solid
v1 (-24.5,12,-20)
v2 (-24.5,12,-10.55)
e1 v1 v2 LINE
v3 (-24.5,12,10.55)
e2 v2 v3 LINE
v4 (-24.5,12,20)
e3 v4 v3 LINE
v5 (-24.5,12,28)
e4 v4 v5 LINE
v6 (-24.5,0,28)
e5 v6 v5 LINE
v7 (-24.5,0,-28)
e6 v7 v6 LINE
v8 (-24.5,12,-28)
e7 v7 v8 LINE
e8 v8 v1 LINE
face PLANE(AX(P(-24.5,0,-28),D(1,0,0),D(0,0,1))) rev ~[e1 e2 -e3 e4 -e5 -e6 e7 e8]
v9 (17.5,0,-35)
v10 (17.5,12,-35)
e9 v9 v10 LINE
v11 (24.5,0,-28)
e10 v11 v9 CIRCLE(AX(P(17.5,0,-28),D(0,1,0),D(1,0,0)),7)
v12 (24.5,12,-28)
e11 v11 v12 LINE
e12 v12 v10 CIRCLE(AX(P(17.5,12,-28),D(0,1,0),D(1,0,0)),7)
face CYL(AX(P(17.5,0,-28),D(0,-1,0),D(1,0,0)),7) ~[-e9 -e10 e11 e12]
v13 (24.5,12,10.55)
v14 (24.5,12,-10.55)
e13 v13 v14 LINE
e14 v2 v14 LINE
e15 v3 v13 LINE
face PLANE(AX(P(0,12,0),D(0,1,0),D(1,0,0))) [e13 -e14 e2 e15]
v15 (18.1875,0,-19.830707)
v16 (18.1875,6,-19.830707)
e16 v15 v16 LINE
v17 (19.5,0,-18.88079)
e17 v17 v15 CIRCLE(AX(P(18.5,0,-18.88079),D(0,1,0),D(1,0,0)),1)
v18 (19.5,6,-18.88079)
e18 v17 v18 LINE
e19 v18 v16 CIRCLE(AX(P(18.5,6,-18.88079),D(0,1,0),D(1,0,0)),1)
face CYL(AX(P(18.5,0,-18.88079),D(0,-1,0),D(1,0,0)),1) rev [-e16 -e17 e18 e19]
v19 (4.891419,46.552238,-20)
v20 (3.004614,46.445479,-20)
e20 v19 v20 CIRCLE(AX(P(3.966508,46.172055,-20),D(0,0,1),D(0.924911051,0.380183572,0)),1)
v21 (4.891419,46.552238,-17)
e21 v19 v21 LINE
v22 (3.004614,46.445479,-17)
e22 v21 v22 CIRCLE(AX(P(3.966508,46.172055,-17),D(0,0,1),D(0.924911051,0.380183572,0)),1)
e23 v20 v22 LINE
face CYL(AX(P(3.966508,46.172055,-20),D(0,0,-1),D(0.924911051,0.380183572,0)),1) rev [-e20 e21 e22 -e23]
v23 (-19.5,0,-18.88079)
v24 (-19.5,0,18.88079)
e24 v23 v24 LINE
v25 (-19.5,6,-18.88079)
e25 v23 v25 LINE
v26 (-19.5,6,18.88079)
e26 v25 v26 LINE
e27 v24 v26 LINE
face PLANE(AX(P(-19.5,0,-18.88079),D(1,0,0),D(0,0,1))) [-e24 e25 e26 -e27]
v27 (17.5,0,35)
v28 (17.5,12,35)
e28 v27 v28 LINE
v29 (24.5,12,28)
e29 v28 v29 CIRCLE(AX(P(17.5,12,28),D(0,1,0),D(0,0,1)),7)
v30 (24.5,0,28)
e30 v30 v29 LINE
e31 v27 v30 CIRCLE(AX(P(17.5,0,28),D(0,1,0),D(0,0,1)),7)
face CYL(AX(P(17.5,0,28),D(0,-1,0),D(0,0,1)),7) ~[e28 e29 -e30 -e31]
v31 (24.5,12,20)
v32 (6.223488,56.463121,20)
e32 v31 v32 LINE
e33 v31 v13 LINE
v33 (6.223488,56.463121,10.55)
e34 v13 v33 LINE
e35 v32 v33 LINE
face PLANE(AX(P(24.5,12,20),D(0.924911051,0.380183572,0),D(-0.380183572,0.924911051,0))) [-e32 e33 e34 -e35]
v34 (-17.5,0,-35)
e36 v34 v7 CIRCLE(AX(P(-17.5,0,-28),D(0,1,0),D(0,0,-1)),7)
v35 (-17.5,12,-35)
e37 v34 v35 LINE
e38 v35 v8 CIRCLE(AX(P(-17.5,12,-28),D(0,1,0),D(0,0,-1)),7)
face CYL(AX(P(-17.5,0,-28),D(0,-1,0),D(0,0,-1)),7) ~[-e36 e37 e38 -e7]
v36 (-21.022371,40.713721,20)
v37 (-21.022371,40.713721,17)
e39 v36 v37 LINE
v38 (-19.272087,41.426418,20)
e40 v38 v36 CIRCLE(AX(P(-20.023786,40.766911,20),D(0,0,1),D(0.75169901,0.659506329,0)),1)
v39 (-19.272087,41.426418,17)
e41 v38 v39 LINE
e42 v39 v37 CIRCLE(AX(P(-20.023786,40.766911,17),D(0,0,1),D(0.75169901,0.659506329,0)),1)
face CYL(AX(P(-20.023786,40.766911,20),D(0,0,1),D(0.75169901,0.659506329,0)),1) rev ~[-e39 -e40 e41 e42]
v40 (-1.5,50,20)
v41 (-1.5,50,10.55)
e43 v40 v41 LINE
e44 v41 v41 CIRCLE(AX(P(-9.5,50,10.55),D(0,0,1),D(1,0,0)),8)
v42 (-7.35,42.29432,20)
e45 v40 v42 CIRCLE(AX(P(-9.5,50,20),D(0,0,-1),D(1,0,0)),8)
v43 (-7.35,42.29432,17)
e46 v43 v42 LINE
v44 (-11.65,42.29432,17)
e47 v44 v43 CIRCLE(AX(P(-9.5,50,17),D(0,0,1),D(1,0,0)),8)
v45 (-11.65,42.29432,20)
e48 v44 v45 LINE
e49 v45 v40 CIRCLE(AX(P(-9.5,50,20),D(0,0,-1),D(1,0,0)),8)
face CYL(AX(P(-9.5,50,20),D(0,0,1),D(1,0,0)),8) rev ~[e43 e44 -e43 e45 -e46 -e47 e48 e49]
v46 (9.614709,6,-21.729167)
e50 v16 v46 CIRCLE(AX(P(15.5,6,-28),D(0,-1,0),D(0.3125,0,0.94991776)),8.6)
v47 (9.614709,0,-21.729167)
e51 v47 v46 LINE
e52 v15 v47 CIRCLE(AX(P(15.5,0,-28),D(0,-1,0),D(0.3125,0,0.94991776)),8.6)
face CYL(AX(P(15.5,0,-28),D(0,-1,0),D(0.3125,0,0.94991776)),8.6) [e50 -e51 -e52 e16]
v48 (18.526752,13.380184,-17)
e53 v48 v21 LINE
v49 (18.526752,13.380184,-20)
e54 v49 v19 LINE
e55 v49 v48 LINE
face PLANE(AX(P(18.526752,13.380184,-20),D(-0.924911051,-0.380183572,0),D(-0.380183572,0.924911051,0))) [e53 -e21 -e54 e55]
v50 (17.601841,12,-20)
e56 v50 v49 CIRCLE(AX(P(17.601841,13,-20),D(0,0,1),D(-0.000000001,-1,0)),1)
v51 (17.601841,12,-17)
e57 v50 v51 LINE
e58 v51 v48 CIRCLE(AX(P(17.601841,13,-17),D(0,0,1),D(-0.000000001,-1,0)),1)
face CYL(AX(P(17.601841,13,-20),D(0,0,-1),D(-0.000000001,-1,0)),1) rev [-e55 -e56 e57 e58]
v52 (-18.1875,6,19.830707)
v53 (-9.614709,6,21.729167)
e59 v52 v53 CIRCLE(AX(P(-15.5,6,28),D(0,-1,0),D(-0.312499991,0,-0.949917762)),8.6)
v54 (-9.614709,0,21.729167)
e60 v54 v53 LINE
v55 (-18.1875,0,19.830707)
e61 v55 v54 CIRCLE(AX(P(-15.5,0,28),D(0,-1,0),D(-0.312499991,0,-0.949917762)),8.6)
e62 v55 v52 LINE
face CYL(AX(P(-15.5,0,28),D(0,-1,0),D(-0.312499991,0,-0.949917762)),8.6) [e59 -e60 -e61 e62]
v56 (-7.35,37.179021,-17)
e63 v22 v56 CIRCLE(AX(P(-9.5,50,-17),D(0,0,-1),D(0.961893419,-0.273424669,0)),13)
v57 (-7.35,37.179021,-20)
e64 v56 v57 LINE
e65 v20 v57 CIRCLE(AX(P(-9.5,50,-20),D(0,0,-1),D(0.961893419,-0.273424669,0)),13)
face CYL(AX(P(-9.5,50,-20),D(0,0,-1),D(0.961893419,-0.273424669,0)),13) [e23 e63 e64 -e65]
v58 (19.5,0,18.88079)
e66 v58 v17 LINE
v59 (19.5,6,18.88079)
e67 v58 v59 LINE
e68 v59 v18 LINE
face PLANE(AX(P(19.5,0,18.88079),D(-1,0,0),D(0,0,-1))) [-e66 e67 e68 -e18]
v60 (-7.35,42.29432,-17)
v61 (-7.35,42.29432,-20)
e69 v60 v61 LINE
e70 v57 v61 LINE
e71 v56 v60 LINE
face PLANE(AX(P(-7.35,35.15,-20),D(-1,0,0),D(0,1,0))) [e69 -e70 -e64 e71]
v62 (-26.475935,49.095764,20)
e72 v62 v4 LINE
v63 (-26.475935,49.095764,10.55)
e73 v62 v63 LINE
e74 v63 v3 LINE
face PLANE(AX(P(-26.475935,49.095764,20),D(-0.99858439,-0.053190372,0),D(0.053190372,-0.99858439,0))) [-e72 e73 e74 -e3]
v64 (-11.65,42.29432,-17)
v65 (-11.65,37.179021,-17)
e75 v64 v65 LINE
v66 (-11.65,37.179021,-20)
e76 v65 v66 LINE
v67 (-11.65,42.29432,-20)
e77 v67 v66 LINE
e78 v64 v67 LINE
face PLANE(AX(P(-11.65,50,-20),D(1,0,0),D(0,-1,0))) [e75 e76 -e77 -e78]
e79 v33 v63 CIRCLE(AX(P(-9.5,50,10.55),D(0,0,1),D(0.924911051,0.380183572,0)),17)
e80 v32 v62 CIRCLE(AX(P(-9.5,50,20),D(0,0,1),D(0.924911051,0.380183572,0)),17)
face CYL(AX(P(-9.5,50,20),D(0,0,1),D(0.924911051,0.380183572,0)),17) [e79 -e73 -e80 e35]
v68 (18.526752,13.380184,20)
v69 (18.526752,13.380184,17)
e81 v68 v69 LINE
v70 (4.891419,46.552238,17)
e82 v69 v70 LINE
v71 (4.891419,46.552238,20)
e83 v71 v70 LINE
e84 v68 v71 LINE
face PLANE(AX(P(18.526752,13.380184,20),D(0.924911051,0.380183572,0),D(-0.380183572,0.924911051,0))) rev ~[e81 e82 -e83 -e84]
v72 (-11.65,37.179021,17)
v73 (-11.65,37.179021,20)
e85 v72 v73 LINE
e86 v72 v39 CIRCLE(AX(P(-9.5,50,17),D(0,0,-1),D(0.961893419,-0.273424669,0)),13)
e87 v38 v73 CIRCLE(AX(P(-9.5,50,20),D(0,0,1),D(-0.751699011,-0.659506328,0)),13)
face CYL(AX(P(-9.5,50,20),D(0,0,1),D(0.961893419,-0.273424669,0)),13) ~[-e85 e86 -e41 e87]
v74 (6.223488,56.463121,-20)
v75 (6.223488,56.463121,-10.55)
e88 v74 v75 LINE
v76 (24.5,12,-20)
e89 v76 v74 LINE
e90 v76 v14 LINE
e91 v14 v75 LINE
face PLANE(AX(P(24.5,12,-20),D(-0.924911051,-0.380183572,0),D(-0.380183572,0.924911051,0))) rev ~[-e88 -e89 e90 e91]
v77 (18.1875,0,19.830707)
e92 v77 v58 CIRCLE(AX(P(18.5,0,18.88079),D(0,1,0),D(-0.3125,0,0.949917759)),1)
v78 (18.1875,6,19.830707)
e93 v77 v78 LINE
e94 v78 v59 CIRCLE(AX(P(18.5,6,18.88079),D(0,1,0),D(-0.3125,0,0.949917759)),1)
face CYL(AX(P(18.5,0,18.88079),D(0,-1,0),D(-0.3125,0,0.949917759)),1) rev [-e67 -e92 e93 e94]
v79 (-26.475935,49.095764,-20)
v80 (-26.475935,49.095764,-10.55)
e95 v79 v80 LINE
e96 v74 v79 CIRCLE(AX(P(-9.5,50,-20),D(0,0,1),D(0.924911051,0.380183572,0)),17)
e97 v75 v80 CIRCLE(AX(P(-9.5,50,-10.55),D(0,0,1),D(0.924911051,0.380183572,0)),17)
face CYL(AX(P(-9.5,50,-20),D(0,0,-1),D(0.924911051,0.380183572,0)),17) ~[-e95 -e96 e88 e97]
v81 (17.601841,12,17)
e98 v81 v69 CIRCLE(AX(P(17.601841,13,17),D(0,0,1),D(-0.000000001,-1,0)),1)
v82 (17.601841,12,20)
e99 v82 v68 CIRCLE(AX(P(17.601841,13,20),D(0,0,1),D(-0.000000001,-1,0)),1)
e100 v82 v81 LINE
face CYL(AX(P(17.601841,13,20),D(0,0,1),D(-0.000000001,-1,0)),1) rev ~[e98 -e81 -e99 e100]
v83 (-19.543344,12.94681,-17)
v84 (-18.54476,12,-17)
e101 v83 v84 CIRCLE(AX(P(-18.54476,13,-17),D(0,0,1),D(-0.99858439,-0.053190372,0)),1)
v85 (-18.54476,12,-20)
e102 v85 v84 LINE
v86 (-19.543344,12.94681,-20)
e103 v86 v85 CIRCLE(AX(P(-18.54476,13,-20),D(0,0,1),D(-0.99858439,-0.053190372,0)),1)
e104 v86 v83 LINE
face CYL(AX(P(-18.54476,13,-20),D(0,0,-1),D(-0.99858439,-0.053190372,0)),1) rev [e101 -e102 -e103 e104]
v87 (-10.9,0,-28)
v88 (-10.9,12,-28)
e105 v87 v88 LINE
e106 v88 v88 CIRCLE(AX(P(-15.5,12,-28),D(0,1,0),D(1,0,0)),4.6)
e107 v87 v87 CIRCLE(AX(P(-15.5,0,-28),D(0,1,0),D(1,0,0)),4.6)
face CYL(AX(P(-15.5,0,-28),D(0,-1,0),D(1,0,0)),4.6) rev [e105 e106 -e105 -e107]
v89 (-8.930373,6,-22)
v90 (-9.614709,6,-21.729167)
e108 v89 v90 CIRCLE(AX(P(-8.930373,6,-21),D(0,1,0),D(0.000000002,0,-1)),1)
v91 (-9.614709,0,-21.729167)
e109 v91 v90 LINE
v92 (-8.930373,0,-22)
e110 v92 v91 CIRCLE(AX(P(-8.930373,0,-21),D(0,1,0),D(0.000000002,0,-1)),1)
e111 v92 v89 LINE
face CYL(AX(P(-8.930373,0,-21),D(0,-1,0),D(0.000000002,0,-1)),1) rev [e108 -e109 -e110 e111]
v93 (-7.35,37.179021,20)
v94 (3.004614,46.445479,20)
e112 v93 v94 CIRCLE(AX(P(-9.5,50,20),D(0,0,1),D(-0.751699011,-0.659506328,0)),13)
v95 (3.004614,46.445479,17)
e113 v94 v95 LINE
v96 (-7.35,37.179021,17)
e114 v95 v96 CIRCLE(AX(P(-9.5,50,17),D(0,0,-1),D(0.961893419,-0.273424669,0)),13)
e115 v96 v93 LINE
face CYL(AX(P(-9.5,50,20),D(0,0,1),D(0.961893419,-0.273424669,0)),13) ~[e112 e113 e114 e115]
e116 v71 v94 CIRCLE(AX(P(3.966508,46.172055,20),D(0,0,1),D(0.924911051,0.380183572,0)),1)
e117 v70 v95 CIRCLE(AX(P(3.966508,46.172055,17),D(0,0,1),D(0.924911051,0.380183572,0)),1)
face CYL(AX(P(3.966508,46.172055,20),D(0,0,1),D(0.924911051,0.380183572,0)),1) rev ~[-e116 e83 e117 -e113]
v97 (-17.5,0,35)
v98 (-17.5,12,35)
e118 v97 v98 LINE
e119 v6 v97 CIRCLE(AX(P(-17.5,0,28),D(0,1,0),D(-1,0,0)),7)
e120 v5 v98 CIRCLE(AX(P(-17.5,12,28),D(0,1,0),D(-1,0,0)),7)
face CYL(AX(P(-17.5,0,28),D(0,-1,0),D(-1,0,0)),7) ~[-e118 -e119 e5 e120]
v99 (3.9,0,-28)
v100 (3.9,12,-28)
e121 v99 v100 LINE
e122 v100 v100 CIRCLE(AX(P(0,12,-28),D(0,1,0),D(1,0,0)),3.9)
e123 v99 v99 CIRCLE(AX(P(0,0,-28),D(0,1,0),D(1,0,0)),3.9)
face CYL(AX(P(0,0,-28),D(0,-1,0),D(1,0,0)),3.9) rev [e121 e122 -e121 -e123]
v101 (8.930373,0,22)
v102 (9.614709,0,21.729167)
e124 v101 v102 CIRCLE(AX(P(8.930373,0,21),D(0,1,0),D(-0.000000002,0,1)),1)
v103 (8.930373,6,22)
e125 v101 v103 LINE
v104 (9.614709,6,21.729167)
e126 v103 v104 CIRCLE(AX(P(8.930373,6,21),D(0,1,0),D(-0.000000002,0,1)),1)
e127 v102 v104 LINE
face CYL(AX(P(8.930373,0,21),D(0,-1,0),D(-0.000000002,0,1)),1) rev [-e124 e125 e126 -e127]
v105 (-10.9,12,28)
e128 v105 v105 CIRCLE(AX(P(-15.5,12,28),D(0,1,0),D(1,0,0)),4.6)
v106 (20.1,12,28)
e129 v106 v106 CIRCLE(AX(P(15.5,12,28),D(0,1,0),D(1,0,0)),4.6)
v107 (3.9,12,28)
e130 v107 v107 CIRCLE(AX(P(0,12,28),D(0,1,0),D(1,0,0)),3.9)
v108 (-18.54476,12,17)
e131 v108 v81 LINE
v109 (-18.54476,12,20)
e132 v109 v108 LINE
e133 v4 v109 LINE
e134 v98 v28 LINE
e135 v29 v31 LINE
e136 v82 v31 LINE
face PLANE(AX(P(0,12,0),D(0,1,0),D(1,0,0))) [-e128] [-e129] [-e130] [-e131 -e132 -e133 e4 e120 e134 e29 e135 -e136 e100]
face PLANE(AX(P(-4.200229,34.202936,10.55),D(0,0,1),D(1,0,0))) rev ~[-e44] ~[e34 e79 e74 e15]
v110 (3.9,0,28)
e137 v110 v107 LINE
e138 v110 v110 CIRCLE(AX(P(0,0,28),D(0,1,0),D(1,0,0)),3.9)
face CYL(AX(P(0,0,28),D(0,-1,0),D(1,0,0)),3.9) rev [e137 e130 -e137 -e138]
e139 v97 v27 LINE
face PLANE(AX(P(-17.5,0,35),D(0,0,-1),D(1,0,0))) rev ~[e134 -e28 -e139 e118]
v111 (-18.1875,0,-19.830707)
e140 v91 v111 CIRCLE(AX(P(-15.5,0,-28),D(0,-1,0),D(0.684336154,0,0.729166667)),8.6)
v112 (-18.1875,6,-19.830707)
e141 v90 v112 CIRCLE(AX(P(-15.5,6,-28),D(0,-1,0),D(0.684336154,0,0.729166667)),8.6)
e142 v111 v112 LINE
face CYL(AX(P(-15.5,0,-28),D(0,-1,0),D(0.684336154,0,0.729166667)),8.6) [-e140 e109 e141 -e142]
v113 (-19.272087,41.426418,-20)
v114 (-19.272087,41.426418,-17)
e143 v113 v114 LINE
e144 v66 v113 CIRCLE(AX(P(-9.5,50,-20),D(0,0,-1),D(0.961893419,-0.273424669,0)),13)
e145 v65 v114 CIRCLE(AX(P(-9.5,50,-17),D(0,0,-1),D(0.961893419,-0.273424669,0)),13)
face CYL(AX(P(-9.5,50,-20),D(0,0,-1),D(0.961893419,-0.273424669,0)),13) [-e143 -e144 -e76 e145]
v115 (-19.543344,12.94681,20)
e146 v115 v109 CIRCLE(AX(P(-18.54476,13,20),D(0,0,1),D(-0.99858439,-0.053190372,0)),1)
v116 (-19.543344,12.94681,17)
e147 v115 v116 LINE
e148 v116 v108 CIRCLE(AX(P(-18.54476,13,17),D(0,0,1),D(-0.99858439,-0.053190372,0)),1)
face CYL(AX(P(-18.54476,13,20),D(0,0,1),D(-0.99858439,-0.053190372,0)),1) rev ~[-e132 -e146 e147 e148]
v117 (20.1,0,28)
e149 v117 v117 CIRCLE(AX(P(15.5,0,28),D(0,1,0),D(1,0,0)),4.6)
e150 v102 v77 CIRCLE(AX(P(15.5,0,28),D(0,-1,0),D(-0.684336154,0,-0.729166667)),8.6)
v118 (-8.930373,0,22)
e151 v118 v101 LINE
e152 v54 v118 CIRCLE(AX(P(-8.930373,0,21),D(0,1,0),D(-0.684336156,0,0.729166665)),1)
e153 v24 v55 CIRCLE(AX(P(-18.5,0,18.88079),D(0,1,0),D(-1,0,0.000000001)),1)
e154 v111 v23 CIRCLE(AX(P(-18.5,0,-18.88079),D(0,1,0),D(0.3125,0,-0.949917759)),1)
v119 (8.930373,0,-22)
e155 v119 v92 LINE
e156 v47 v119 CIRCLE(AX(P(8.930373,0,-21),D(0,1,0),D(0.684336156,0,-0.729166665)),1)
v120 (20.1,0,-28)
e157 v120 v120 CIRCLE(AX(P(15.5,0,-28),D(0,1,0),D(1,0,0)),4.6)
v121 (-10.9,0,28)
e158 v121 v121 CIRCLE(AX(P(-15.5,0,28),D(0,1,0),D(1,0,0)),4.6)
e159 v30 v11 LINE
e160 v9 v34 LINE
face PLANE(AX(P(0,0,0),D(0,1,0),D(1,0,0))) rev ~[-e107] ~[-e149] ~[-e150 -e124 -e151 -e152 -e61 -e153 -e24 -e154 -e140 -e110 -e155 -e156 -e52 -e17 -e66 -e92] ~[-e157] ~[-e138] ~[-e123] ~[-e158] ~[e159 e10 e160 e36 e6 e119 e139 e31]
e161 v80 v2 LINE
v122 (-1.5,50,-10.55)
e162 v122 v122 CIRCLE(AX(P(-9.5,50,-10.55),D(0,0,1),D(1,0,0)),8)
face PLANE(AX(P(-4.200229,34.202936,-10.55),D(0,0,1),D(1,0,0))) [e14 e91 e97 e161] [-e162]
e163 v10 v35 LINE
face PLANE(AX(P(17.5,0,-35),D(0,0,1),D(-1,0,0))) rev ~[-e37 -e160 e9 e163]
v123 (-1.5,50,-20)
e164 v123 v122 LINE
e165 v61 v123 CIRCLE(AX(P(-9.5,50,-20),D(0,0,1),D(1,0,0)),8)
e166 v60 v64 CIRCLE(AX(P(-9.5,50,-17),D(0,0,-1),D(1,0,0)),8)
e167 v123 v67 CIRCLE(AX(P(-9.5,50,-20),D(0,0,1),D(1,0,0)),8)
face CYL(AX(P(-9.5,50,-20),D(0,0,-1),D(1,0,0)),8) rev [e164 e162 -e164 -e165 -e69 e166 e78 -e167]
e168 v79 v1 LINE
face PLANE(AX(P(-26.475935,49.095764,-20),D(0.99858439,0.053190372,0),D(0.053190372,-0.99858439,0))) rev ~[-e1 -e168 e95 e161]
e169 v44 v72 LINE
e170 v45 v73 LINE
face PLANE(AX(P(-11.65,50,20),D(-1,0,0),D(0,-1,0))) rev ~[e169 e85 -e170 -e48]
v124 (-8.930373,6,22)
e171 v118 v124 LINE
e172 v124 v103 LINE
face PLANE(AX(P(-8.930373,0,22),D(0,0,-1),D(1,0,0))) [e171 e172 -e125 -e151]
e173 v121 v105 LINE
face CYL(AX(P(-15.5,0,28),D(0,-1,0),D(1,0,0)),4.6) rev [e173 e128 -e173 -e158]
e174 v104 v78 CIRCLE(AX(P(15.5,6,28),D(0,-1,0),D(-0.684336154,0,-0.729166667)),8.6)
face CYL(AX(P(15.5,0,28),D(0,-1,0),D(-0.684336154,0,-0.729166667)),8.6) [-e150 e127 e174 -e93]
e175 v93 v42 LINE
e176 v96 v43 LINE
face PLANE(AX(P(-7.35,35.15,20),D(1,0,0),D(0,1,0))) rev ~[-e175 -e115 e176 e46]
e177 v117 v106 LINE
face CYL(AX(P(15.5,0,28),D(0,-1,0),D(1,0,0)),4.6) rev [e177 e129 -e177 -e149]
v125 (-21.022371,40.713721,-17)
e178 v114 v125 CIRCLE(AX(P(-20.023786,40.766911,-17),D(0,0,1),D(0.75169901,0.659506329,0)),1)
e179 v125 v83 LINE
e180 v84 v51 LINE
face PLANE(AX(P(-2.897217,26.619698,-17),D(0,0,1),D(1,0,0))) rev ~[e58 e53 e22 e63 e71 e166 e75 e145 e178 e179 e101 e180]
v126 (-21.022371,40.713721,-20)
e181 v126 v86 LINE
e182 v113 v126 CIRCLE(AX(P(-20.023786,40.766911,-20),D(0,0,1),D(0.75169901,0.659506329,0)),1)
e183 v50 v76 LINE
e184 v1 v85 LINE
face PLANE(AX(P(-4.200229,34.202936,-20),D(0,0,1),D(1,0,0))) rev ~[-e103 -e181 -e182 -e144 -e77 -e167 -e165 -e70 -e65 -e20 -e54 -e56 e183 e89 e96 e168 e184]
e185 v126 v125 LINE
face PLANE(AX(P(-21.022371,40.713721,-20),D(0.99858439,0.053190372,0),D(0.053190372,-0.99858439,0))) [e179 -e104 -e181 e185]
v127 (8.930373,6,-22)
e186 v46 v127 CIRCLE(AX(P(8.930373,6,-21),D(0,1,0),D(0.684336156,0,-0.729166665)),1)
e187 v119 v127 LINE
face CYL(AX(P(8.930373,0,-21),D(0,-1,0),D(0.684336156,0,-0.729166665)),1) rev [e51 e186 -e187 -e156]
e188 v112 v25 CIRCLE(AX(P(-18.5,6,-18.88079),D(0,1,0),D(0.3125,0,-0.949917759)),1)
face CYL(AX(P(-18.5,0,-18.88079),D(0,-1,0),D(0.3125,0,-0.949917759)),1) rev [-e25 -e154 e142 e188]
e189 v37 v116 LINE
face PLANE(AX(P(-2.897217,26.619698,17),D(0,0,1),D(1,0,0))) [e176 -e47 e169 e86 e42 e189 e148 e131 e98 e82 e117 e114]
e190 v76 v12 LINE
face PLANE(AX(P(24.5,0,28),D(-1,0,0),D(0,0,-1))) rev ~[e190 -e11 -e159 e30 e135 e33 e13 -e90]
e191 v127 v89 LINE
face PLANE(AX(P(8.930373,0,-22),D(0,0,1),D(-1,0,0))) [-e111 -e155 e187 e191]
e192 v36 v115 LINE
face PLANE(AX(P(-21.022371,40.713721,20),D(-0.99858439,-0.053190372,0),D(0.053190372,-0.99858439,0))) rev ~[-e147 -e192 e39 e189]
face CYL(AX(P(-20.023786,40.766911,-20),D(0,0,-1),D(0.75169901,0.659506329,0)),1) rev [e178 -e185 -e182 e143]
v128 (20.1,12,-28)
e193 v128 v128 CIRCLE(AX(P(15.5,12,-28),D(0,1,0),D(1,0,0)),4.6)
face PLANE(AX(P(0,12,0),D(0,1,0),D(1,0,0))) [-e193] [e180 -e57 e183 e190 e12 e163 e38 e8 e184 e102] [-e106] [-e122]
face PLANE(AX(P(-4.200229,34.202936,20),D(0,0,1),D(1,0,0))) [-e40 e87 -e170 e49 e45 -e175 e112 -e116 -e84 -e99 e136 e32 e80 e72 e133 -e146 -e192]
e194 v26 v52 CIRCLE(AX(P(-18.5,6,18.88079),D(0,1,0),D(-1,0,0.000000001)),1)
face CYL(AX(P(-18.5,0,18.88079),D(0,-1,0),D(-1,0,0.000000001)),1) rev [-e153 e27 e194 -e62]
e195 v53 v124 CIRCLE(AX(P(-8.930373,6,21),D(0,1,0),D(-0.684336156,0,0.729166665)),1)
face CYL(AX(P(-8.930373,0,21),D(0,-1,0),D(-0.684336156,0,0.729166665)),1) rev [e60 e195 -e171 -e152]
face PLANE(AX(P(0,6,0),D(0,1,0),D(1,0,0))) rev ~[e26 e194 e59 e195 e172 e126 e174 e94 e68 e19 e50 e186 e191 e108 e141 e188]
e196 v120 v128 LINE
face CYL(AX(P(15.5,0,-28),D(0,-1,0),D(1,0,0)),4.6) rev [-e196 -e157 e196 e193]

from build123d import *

# Parameters (mm, degrees)
SKETCH1_R               = 4.6
SKETCH1_R_2             = 3.9
BOSS_EXTRUDE1_DEPTH     = 12
CUT_EXTRUDE1_DEPTH      = 6
SKETCH3_R               = 8
BOSS_EXTRUDE2_DEPTH     = 9.45
CUT_EXTRUDE2_DEPTH      = 3
SKETCH5_R               = 8
BOSS_EXTRUDE3_DEPTH     = 9.45
CUT_EXTRUDE3_DEPTH      = 3
CUT_EXTRUDE4_DEPTH      = 3
CUT_EXTRUDE4_DEPTH_BACK = 3
CUT_EXTRUDE5_DEPTH      = 3
CUT_EXTRUDE5_DEPTH_BACK = 3


with BuildPart() as part:
    # Sketch1 → Boss-Extrude1 (new body)
    with BuildSketch(Plane(origin=(0, 0, 0), x_dir=(1, 0, 0), z_dir=(0, 1, 0))):
        with BuildLine():
            Line((-17.5, -35), (17.5, -35))
            ThreePointArc((17.5, -35), (22.449747468, -32.949747468), (24.5, -28))
            Line((24.5, -28), (24.5, 28))
            ThreePointArc((24.5, 28), (22.449747468, 32.949747468), (17.5, 35))
            Line((17.5, 35), (-17.5, 35))
            ThreePointArc((-17.5, 35), (-22.449747468, 32.949747468), (-24.5, 28))
            Line((-24.5, 28), (-24.5, -28))
            ThreePointArc((-24.5, -28), (-22.449747468, -32.949747468), (-17.5, -35))
        make_face()
        with Locations((15.5, 28)):
            Circle(SKETCH1_R, mode=Mode.SUBTRACT)
        with Locations((15.5, -28)):
            Circle(SKETCH1_R, mode=Mode.SUBTRACT)
        with Locations((0, 28)):
            Circle(SKETCH1_R_2, mode=Mode.SUBTRACT)
        with Locations((0, -28)):
            Circle(SKETCH1_R_2, mode=Mode.SUBTRACT)
        with Locations((-15.5, 28)):
            Circle(SKETCH1_R, mode=Mode.SUBTRACT)
        with Locations((-15.5, -28)):
            Circle(SKETCH1_R, mode=Mode.SUBTRACT)
    extrude(amount=BOSS_EXTRUDE1_DEPTH)

    # Sketch2 → Cut-Extrude1 (cut)
    with BuildSketch(Plane(origin=(0, 0, 0), x_dir=(1, 0, 0), z_dir=(0, 1, 0))):
        with BuildLine():
            Line((-8.930372918, -22), (8.930372918, -22))
            ThreePointArc((8.930372918, -22), (9.298362954, -21.929829734), (9.614709072, -21.729166667))
            ThreePointArc((9.614709072, -21.729166667), (13.6405636, -19.603423539), (18.1875, -19.830707267))
            ThreePointArc((18.1875, -19.830707267), (19.08630197, -19.690882095), (19.5, -18.880789508))
            Line((19.5, -18.880789508), (19.5, 18.880789508))
            ThreePointArc((19.5, 18.880789508), (19.08630197, 19.690882095), (18.1875, 19.830707267))
            ThreePointArc((18.1875, 19.830707267), (13.6405636, 19.603423539), (9.614709072, 21.729166667))
            ThreePointArc((9.614709072, 21.729166667), (9.298362954, 21.929829734), (8.930372918, 22))
            Line((8.930372918, 22), (-8.930372918, 22))
            ThreePointArc((-8.930372918, 22), (-9.298362954, 21.929829734), (-9.614709072, 21.729166667))
            ThreePointArc((-9.614709072, 21.729166667), (-13.6405636, 19.603423539), (-18.1875, 19.830707267))
            ThreePointArc((-18.1875, 19.830707267), (-19.08630197, 19.690882095), (-19.5, 18.880789508))
            Line((-19.5, 18.880789508), (-19.5, -18.880789508))
            ThreePointArc((-19.5, -18.880789508), (-19.086301938, -19.690882118), (-18.187499925, -19.830707243))
            ThreePointArc((-18.187499925, -19.830707243), (-13.640563561, -19.603423547), (-9.614709072, -21.729166667))
            ThreePointArc((-9.614709072, -21.729166667), (-9.298362954, -21.929829734), (-8.930372918, -22))
        make_face()
    extrude(amount=CUT_EXTRUDE1_DEPTH, mode=Mode.SUBTRACT)

    # Sketch3 → Boss-Extrude2 (add)
    with BuildSketch(Plane.XY.offset(20)):
        with BuildLine():
            Line((-26.475934633, 49.095763671), (-24.5, 12))
            Line((-24.5, 12), (24.5, 12))
            Line((24.5, 12), (6.223487863, 56.463120719))
            ThreePointArc((6.223487863, 56.463120719), (-13.236528228, 66.584280413), (-26.475934633, 49.095763671))
        make_face()
        with Locations((-9.5, 50)):
            Circle(SKETCH3_R, mode=Mode.SUBTRACT)
    extrude(amount=-BOSS_EXTRUDE2_DEPTH)

    # Sketch4 → Cut-Extrude2 (cut)
    with BuildSketch(Plane.XY.offset(20)):
        with BuildLine():
            Line((-21.022370546, 40.713721035), (-19.543344466, 12.946809628))
            ThreePointArc((-19.543344466, 12.946809628), (-19.232804271, 12.274331215), (-18.544760076, 12))
            Line((-18.544760076, 12), (17.60184091, 12))
            ThreePointArc((17.60184091, 12), (18.432558544, 12.443305996), (18.526751961, 13.380183572))
            Line((18.526751961, 13.380183572), (4.891418921, 46.552238199))
            ThreePointArc((4.891418921, 46.552238199), (3.910016369, 47.170457707), (3.004614451, 46.445479297))
            ThreePointArc((3.004614451, 46.445479297), (-6.642654885, 37.317903214), (-19.272087144, 41.426417736))
            ThreePointArc((-19.272087144, 41.426417736), (-20.400909801, 41.693074328), (-21.022370546, 40.713721035))
        make_face()
    extrude(amount=-CUT_EXTRUDE2_DEPTH, mode=Mode.SUBTRACT)

    # Sketch5 → Boss-Extrude3 (add)
    with BuildSketch(Plane.XY.offset(-20)):
        with BuildLine():
            Line((-26.475934633, 49.095763671), (-24.5, 12))
            Line((-24.5, 12), (24.5, 12))
            Line((24.5, 12), (6.223487863, 56.463120719))
            ThreePointArc((6.223487863, 56.463120719), (-13.236528228, 66.584280413), (-26.475934633, 49.095763671))
        make_face()
        with Locations((-9.5, 50)):
            Circle(SKETCH5_R, mode=Mode.SUBTRACT)
    extrude(amount=BOSS_EXTRUDE3_DEPTH)

    # Sketch6 → Cut-Extrude3 (cut)
    with BuildSketch(Plane.XY.offset(-20)):
        with BuildLine():
            Line((-21.022370546, 40.713721035), (-19.543344466, 12.946809628))
            ThreePointArc((-19.543344466, 12.946809628), (-19.232804271, 12.274331215), (-18.544760076, 12))
            Line((-18.544760076, 12), (17.60184091, 12))
            ThreePointArc((17.60184091, 12), (18.432558544, 12.443305996), (18.526751961, 13.380183572))
            Line((18.526751961, 13.380183572), (4.891418921, 46.552238199))
            ThreePointArc((4.891418921, 46.552238199), (3.910016369, 47.170457707), (3.004614451, 46.445479297))
            ThreePointArc((3.004614451, 46.445479297), (-6.642654885, 37.317903214), (-19.272087144, 41.426417736))
            ThreePointArc((-19.272087144, 41.426417736), (-20.400909801, 41.693074328), (-21.022370546, 40.713721035))
        make_face()
    extrude(amount=CUT_EXTRUDE3_DEPTH, mode=Mode.SUBTRACT)

    # Sketch7 → Cut-Extrude4 (cut, two sides)
    with BuildSketch(Plane.XY.offset(20)) as cut_extrude4_sk:
        with BuildLine():
            Line((-7.35, 35.15), (-7.35, 50))
            Line((-7.35, 50), (-11.65, 50))
            Line((-11.65, 50), (-11.65, 35.15))
            ThreePointArc((-11.65, 35.15), (-9.5, 33), (-7.35, 35.15))
        make_face()
    extrude(amount=CUT_EXTRUDE4_DEPTH, mode=Mode.SUBTRACT)
    extrude(cut_extrude4_sk.sketch, amount=-CUT_EXTRUDE4_DEPTH_BACK, mode=Mode.SUBTRACT)

    # Sketch8 → Cut-Extrude5 (cut, two sides)
    with BuildSketch(Plane.XY.offset(-20)) as cut_extrude5_sk:
        with BuildLine():
            Line((-7.35, 35.15), (-7.35, 50))
            Line((-7.35, 50), (-11.65, 50))
            Line((-11.65, 50), (-11.65, 35.15))
            ThreePointArc((-11.65, 35.15), (-9.5, 33), (-7.35, 35.15))
        make_face()
    extrude(amount=CUT_EXTRUDE5_DEPTH, mode=Mode.SUBTRACT)
    extrude(cut_extrude5_sk.sketch, amount=-CUT_EXTRUDE5_DEPTH_BACK, mode=Mode.SUBTRACT)


solid = part.part
